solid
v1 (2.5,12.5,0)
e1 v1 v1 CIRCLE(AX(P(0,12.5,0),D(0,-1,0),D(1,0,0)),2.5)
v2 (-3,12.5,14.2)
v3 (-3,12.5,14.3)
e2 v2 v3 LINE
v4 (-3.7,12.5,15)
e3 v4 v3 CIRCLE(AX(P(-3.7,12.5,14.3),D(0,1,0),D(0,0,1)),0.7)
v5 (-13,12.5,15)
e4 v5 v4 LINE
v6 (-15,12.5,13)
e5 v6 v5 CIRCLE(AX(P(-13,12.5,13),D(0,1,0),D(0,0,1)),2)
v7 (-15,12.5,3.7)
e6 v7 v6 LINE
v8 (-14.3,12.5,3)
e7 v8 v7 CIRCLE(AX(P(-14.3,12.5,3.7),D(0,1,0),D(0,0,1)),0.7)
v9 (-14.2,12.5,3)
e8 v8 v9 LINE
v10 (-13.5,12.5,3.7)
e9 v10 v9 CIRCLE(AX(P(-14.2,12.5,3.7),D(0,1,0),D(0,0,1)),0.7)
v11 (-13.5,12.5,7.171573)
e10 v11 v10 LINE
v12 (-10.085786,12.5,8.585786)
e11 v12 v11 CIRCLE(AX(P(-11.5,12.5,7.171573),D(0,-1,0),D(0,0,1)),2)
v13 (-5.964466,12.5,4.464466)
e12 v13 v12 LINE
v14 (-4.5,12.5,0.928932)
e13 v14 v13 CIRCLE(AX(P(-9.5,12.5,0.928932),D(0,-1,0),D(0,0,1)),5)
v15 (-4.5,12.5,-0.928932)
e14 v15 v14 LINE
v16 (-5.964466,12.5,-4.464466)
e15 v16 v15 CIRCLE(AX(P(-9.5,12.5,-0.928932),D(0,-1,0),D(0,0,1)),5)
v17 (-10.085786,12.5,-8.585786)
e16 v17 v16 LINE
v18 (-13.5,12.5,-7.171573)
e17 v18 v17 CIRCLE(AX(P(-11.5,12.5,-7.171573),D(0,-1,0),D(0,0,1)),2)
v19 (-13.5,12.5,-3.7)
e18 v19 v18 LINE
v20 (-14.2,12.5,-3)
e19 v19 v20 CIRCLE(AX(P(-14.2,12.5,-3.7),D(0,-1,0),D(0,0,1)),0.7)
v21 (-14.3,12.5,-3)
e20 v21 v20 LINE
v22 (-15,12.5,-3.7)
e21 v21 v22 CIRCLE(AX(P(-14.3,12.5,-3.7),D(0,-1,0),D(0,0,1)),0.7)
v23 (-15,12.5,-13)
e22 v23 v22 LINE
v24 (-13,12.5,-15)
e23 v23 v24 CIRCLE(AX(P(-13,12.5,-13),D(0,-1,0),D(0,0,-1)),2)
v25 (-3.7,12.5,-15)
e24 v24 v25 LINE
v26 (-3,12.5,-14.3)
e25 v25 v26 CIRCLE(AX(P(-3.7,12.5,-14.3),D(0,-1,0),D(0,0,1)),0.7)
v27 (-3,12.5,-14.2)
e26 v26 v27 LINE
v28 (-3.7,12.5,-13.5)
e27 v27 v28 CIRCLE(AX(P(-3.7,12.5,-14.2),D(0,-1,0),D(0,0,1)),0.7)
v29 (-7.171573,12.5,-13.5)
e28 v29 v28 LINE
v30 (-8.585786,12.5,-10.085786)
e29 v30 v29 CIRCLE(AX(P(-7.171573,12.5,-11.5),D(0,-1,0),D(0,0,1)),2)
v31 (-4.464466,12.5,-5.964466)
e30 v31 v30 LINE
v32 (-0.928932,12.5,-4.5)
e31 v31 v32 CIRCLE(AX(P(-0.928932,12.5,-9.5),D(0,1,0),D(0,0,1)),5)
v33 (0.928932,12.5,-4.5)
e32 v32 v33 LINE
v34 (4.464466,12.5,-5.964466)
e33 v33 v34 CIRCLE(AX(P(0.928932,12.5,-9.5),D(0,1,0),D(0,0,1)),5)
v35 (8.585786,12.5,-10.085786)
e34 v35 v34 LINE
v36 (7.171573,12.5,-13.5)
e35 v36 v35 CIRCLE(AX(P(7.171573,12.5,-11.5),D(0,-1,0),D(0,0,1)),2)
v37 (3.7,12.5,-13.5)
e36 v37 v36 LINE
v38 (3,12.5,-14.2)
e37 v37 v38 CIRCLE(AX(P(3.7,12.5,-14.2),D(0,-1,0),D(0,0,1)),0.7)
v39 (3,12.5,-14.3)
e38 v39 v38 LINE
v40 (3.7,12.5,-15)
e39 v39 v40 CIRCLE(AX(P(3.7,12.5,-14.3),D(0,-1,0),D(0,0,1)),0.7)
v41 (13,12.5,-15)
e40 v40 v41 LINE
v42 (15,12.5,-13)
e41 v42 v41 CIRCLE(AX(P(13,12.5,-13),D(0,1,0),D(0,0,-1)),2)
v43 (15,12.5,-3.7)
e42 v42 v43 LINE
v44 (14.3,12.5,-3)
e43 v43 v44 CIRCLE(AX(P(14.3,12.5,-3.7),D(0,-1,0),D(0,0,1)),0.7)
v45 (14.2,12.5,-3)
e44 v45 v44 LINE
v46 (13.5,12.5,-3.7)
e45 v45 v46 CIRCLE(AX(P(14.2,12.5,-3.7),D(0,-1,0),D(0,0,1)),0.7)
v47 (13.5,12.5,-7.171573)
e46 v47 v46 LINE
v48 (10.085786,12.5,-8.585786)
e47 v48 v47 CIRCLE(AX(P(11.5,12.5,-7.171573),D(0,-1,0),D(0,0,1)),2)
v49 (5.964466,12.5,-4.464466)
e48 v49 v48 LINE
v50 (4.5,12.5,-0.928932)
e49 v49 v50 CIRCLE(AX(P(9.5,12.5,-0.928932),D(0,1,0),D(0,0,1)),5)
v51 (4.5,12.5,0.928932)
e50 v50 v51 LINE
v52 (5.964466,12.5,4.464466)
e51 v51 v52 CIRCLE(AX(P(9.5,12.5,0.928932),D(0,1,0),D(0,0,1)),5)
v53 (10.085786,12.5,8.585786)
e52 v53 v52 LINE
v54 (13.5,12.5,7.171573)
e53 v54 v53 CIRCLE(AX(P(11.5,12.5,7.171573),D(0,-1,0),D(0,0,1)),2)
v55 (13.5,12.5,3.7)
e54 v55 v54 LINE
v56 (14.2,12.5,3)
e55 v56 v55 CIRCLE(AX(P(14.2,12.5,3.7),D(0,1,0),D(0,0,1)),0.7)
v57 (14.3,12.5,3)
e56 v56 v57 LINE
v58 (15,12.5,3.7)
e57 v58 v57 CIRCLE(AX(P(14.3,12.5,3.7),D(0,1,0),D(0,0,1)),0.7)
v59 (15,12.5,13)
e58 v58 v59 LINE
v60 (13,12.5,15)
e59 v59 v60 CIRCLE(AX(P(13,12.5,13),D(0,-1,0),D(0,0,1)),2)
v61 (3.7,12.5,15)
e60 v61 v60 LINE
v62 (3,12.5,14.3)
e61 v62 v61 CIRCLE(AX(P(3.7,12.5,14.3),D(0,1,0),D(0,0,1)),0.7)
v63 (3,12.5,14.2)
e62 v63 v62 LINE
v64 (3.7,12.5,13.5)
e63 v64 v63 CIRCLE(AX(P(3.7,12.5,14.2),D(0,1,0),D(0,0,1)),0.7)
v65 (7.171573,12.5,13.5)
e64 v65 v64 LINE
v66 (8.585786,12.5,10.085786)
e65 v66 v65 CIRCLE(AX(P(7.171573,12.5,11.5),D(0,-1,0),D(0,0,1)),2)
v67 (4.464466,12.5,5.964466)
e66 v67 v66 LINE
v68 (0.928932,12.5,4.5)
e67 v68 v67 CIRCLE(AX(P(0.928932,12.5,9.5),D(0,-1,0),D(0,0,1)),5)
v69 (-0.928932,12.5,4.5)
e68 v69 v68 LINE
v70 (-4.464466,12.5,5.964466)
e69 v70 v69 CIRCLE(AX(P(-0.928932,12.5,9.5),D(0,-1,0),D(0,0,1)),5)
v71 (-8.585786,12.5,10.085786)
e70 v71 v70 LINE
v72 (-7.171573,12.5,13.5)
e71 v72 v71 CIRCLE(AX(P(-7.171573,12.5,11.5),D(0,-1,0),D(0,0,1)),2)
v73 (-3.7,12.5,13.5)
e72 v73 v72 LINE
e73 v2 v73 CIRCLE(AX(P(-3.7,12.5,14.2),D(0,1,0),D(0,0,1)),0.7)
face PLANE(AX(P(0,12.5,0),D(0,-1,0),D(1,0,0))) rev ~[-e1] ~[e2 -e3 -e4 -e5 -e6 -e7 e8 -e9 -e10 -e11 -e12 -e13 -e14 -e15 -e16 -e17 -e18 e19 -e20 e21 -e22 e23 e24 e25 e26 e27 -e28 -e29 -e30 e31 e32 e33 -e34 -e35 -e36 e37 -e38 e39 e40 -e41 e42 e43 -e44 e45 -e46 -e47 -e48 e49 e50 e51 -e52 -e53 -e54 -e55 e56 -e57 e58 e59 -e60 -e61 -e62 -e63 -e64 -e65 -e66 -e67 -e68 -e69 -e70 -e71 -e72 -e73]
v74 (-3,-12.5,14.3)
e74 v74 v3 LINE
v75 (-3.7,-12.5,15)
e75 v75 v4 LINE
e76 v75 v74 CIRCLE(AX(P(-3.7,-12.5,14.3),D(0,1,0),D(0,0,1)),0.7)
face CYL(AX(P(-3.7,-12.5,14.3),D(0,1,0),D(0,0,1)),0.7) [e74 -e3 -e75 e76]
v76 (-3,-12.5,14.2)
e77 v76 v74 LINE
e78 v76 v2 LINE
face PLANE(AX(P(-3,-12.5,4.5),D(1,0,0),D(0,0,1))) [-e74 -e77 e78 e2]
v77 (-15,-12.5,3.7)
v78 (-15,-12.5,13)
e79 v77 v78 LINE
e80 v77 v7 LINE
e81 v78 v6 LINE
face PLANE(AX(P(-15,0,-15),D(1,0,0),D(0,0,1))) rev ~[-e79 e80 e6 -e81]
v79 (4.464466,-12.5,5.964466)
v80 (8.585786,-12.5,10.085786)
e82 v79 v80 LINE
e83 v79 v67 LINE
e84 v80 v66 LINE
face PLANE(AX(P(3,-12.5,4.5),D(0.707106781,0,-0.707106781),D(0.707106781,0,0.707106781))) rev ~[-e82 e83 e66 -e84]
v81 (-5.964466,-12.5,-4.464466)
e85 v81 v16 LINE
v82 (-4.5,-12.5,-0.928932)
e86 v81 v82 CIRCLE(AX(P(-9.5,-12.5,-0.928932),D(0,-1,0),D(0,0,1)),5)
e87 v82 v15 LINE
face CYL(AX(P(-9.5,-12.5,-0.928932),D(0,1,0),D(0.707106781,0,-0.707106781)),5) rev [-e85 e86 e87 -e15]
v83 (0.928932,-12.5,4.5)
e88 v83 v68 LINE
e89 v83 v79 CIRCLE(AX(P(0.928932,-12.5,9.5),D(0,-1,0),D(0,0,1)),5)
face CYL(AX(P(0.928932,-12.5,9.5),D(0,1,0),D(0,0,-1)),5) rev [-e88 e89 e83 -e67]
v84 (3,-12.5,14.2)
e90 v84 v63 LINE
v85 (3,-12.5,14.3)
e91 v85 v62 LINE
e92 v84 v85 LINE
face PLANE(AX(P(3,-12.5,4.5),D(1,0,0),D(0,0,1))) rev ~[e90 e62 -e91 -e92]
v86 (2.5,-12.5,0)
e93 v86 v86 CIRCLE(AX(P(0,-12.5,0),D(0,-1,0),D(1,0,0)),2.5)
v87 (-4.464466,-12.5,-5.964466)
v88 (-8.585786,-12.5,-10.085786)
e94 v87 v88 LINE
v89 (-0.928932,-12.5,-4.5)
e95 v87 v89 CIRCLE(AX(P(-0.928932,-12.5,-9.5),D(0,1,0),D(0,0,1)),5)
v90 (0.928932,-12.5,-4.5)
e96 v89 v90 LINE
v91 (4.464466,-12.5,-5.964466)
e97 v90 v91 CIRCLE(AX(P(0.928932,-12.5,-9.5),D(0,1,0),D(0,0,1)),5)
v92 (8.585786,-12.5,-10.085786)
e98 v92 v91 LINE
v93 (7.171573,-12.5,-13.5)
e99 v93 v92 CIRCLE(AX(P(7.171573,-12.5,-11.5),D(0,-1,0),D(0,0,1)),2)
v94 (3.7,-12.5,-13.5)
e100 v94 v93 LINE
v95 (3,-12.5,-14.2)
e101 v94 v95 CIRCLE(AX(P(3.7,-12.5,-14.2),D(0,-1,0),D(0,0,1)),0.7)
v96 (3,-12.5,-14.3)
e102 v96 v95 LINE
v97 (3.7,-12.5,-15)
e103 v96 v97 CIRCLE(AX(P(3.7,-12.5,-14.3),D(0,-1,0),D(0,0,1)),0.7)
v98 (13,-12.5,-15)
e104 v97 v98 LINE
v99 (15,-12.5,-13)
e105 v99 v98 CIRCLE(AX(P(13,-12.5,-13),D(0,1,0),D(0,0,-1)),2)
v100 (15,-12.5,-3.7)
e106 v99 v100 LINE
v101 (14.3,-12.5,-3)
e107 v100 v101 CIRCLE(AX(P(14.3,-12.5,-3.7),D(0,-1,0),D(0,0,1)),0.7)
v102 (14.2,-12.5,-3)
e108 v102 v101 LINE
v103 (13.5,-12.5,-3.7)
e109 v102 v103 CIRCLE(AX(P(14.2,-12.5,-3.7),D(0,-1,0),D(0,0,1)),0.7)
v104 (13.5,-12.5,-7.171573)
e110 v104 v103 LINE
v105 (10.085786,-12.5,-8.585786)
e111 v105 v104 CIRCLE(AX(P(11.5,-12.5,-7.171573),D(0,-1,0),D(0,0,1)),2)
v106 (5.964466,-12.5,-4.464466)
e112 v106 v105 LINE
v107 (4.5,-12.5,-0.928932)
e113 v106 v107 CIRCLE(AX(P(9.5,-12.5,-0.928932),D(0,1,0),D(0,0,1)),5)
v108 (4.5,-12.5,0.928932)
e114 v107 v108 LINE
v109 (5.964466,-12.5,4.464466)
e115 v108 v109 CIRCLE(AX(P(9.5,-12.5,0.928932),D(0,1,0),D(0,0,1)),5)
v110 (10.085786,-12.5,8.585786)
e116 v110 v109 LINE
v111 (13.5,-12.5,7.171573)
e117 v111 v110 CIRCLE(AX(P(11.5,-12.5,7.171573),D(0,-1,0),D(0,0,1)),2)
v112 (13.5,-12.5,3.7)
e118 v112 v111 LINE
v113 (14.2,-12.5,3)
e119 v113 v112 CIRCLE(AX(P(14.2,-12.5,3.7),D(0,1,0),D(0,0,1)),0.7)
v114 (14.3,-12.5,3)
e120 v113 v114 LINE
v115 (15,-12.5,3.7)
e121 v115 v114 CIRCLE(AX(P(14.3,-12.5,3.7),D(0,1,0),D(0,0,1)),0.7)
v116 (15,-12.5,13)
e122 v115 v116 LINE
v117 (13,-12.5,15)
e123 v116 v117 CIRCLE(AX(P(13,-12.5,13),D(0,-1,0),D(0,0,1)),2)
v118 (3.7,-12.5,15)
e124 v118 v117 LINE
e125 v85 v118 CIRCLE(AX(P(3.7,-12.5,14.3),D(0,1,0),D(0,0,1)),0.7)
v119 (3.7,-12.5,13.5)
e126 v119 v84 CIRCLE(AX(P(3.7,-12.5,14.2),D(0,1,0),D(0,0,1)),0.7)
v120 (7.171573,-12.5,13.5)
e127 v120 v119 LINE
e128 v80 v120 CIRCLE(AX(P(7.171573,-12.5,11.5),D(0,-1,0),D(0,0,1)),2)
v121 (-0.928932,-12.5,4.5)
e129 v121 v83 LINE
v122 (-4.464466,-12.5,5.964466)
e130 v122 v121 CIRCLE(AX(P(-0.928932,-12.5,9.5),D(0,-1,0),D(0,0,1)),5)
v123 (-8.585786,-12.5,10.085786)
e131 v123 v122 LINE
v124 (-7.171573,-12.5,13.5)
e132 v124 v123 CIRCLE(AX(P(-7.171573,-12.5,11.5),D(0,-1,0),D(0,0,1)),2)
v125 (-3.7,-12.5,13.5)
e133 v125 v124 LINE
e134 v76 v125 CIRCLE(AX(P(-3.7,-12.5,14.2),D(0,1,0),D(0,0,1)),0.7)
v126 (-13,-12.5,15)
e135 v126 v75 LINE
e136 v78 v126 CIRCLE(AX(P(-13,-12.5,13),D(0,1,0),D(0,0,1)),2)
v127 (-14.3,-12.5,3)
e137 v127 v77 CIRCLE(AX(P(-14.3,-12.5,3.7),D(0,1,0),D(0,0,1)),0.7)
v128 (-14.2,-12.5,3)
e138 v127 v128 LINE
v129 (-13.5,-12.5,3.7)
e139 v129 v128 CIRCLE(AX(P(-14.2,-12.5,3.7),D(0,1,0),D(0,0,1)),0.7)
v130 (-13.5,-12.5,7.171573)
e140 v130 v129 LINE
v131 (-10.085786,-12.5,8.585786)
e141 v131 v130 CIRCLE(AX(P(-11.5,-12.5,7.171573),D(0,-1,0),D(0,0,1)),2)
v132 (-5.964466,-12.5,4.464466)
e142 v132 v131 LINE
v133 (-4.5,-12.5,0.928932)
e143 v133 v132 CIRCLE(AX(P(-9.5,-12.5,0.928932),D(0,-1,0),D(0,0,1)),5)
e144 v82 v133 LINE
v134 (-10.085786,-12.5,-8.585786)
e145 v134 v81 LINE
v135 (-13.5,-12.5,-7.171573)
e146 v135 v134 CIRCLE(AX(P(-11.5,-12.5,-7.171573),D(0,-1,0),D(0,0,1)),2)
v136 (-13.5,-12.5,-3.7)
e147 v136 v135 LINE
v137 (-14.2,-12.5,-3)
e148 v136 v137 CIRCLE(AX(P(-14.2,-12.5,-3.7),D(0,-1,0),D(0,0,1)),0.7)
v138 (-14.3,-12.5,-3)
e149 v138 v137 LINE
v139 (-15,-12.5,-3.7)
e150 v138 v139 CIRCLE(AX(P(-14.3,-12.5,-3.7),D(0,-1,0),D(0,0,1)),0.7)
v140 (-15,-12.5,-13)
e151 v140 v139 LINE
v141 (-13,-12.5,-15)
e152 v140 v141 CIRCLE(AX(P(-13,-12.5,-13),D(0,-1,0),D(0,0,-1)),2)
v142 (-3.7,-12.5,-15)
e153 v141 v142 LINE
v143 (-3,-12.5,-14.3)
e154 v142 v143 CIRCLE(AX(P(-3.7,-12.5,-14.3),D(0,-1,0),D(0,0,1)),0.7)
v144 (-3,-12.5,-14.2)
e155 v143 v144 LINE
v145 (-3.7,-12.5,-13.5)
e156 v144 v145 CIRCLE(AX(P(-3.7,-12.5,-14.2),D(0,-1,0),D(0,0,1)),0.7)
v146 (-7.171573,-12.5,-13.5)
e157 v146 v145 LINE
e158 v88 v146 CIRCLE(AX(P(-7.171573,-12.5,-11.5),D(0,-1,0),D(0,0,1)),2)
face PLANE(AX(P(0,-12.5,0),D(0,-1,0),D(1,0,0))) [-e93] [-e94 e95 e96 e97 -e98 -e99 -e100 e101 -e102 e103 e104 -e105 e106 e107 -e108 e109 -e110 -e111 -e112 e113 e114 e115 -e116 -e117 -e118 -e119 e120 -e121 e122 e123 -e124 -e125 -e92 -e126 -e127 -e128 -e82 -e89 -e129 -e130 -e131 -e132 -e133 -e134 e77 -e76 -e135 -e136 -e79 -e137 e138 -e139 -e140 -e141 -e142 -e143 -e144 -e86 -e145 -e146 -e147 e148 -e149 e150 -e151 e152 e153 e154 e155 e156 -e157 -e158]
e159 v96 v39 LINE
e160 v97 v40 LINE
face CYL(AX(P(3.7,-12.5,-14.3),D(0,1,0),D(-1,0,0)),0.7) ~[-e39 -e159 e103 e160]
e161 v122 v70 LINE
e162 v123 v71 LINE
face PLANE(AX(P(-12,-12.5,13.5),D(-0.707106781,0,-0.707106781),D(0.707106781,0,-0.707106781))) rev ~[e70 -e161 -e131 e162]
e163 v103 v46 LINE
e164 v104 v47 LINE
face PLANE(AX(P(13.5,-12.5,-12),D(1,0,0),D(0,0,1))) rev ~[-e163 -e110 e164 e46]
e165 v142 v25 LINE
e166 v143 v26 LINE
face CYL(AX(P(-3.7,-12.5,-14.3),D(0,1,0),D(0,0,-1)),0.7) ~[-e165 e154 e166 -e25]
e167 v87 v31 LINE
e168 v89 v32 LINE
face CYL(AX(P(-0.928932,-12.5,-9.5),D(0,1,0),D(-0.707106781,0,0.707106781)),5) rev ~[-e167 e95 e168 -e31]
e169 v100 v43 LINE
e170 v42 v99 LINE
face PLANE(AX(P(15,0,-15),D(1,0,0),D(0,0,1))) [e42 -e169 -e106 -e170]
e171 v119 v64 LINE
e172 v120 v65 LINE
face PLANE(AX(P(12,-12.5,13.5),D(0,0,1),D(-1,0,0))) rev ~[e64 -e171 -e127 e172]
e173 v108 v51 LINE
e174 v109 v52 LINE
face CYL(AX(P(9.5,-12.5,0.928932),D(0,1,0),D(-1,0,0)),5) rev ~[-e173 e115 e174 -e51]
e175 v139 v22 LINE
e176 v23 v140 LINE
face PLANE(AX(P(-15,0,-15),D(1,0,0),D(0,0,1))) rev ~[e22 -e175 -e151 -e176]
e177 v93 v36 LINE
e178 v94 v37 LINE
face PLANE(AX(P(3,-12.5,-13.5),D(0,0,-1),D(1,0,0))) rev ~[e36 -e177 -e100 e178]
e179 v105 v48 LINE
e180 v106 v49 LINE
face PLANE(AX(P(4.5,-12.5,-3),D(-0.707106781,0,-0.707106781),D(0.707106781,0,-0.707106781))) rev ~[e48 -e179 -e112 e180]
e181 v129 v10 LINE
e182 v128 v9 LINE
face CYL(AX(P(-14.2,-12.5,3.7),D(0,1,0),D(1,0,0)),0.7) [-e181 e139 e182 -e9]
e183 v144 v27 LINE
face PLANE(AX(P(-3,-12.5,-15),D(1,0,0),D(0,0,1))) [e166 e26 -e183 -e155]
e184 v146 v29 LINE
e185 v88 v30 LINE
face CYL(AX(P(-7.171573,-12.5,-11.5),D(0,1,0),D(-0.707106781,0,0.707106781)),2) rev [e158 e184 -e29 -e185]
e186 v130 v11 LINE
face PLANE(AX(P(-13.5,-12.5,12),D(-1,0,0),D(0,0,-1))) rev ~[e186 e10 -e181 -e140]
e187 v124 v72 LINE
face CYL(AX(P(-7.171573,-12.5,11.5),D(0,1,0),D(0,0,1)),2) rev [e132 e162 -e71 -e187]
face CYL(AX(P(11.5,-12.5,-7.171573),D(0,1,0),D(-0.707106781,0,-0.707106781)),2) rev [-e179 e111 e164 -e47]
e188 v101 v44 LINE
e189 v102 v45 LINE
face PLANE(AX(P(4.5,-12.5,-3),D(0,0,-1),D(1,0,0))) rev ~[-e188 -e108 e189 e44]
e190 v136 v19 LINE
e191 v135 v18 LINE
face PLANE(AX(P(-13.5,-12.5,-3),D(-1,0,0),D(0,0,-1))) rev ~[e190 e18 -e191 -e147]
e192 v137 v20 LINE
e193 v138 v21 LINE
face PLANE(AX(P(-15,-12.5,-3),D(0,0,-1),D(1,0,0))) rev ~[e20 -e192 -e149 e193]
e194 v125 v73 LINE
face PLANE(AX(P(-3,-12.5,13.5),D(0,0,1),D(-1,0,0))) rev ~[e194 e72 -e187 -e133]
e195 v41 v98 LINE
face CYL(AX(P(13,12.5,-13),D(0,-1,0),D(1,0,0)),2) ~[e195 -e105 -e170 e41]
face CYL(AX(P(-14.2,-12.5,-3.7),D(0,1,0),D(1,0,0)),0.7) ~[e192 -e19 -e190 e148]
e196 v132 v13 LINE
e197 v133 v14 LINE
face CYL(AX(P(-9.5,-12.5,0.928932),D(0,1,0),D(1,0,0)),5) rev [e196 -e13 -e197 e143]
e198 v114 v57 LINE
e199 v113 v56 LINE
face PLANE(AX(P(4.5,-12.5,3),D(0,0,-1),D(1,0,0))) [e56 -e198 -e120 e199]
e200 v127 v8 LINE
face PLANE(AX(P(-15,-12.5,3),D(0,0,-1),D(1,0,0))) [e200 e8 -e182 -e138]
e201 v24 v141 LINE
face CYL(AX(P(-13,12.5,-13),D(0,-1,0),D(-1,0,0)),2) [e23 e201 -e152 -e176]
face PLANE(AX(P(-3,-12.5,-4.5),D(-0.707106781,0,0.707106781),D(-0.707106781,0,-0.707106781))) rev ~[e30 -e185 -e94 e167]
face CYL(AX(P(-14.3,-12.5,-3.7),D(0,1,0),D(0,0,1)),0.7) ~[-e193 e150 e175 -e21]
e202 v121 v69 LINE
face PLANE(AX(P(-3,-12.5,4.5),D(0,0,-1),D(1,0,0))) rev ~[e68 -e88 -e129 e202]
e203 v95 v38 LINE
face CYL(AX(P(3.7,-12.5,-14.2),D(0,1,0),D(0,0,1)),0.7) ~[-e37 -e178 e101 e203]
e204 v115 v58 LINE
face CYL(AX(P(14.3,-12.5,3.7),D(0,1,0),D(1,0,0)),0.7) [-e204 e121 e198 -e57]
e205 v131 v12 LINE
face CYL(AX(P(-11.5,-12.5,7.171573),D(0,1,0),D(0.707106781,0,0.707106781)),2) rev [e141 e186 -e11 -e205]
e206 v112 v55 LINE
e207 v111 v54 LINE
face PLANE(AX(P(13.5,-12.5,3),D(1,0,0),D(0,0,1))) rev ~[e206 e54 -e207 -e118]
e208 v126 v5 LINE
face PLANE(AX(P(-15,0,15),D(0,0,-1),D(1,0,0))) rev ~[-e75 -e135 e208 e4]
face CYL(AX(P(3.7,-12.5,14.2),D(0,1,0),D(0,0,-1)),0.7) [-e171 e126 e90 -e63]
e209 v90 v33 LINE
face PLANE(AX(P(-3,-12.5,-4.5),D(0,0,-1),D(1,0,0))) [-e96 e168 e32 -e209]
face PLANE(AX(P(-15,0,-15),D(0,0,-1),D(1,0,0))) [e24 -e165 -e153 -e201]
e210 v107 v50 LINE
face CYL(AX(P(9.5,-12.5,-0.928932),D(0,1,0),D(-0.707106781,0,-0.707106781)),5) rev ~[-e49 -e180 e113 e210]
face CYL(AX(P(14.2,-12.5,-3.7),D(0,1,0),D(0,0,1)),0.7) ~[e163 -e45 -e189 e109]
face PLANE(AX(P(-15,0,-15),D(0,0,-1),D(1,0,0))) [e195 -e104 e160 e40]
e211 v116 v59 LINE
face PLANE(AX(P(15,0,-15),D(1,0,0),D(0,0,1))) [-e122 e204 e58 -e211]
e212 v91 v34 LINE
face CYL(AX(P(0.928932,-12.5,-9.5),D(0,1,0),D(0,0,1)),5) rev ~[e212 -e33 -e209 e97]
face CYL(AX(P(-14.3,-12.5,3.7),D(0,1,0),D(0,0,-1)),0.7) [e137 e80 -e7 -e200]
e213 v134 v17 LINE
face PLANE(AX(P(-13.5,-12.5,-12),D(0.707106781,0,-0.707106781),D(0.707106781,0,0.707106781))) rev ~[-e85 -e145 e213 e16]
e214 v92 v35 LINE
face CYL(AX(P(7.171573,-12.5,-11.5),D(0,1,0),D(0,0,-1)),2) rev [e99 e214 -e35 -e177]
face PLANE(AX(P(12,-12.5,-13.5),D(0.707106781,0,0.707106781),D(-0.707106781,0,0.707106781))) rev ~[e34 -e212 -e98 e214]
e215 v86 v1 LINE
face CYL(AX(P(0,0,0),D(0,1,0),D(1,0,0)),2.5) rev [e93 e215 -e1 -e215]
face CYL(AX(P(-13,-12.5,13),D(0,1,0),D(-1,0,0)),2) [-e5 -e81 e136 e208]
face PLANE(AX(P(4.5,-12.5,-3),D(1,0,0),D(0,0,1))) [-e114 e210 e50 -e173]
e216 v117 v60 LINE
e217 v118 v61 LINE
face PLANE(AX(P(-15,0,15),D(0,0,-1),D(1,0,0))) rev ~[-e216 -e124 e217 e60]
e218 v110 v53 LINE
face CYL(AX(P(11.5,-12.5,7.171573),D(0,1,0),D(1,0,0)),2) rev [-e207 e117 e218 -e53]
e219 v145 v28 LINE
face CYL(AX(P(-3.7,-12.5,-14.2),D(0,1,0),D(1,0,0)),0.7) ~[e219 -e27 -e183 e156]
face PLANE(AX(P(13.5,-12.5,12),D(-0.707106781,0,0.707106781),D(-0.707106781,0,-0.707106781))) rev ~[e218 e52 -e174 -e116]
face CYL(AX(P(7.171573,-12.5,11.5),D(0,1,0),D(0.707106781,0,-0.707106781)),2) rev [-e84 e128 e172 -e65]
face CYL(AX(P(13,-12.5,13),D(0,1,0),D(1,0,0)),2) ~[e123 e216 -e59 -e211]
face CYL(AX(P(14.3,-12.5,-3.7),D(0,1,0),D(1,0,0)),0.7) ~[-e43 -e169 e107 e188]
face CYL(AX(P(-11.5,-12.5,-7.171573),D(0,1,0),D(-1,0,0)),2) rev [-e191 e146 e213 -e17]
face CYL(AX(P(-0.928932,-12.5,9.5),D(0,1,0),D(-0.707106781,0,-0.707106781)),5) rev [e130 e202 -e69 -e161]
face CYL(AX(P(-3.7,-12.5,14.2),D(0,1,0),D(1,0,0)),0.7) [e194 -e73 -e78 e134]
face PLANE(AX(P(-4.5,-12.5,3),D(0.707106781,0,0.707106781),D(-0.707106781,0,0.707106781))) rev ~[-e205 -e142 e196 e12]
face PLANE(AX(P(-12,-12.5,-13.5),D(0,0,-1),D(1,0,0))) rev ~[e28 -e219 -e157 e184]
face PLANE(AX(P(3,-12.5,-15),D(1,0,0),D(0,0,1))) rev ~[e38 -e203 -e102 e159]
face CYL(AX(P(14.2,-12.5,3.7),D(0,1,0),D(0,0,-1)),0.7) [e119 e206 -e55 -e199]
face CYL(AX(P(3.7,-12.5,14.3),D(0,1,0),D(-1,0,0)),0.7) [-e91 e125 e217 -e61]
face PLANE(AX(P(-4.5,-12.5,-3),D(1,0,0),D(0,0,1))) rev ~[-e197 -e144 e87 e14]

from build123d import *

# Parameters (mm, degrees)
F0_W     = 30
F0_H     = 30
F0_R     = 2.5
F1_DEPTH = 12.5
F2_R     = 2
F3_W     = 10.5
F3_H     = 6
F3_W_2   = 6
F3_H_2   = 10.5
F4_DEPTH = 25
F5_DEPTH = 25
F7_DEPTH = 25
F8_R     = 2
F9_R     = 0.7
F10_R    = 5


with BuildPart() as f1:
    # F0 (on Front) → F1 (new body, symmetric)
    with BuildSketch(Plane.XZ):
        Rectangle(F0_W, F0_H)
        Circle(F0_R, mode=Mode.SUBTRACT)
    extrude(amount=F1_DEPTH, both=True)

    # F2
    f2_edges = [f1.edges().sort_by_distance(p)[0] for p in [
        (15, 0, 15),
        (-15, 0, 15),
        (-15, 0, -15),
        (15, 0, -15),
    ]]
    fillet(f2_edges, radius=F2_R)

    # F3 (on face) → F4 (cut)
    with BuildSketch(Plane.XZ.offset(12.5)):
        with Locations((9.75, 0)):
            Rectangle(F3_W, F3_H)
        with Locations((0, 9.75)):
            Rectangle(F3_W_2, F3_H_2)
        with Locations((0, -9.75)):
            Rectangle(F3_W_2, F3_H_2)
        with Locations((-9.75, 0)):
            Rectangle(F3_W, F3_H)
    extrude(amount=-F4_DEPTH, mode=Mode.SUBTRACT)

    # F3 (on face) → F5 (cut)
    with BuildSketch(Plane.XZ.offset(12.5)):
        with Locations((9.75, 0)):
            Rectangle(F3_W, F3_H)
        with Locations((0, 9.75)):
            Rectangle(F3_W_2, F3_H_2)
        with Locations((0, -9.75)):
            Rectangle(F3_W_2, F3_H_2)
        with Locations((-9.75, 0)):
            Rectangle(F3_W, F3_H)
    extrude(amount=-F5_DEPTH, mode=Mode.SUBTRACT)

    # F6 (on face) → F7 (cut)
    with BuildSketch(Plane.XZ.offset(12.5)):
        Polygon((3, 13.5), (3, 4.5), (12, 13.5), align=None)
        Polygon((13.5, 12), (4.5, 3), (13.5, 3), align=None)
        Polygon((3, -4.5), (3, -13.5), (12, -13.5), align=None)
        Polygon((13.5, -3), (4.5, -3), (13.5, -12), align=None)
        Polygon((-3, 4.5), (-3, 13.5), (-12, 13.5), align=None)
        Polygon((-13.5, 3), (-4.5, 3), (-13.5, 12), align=None)
        Polygon((-13.5, -12), (-4.5, -3), (-13.5, -3), align=None)
        Polygon((-3, -13.5), (-3, -4.5), (-12, -13.5), align=None)
    extrude(amount=-F7_DEPTH, mode=Mode.SUBTRACT)

    # F8
    f8_edges = [f1.edges().sort_by_distance(p)[0] for p in [
        (-12, 0, -13.5),
        (12, 0, -13.5),
        (13.5, 0, -12),
        (-13.5, 0, -12),
        (13.5, 0, 12),
        (12, 0, 13.5),
        (-13.5, 0, 12),
        (-12, 0, 13.5),
    ]]
    fillet(f8_edges, radius=F8_R)

    # F9
    f9_edges = [f1.edges().sort_by_distance(p)[0] for p in [
        (13.5, 0, 3),
        (15, 0, 3),
        (15, 0, -3),
        (13.5, 0, -3),
        (3, 0, -15),
        (-3, 0, -15),
        (3, 0, -13.5),
        (-3, 0, -13.5),
        (-15, 0, -3),
        (-13.5, 0, -3),
        (-15, 0, 3),
        (-13.5, 0, 3),
        (3, 0, 13.5),
        (3, 0, 15),
        (-3, 0, 15),
        (-3, 0, 13.5),
    ]]
    fillet(f9_edges, radius=F9_R)

    # F10
    f10_edges = [f1.edges().sort_by_distance(p)[0] for p in [
        (4.5, 0, -3),
        (4.5, 0, 3),
        (-3, 0, -4.5),
        (3, 0, -4.5),
        (-4.5, 0, -3),
        (-4.5, 0, 3),
        (3, 0, 4.5),
        (-3, 0, 4.5),
    ]]
    fillet(f10_edges, radius=F10_R)


solid = f1.part
